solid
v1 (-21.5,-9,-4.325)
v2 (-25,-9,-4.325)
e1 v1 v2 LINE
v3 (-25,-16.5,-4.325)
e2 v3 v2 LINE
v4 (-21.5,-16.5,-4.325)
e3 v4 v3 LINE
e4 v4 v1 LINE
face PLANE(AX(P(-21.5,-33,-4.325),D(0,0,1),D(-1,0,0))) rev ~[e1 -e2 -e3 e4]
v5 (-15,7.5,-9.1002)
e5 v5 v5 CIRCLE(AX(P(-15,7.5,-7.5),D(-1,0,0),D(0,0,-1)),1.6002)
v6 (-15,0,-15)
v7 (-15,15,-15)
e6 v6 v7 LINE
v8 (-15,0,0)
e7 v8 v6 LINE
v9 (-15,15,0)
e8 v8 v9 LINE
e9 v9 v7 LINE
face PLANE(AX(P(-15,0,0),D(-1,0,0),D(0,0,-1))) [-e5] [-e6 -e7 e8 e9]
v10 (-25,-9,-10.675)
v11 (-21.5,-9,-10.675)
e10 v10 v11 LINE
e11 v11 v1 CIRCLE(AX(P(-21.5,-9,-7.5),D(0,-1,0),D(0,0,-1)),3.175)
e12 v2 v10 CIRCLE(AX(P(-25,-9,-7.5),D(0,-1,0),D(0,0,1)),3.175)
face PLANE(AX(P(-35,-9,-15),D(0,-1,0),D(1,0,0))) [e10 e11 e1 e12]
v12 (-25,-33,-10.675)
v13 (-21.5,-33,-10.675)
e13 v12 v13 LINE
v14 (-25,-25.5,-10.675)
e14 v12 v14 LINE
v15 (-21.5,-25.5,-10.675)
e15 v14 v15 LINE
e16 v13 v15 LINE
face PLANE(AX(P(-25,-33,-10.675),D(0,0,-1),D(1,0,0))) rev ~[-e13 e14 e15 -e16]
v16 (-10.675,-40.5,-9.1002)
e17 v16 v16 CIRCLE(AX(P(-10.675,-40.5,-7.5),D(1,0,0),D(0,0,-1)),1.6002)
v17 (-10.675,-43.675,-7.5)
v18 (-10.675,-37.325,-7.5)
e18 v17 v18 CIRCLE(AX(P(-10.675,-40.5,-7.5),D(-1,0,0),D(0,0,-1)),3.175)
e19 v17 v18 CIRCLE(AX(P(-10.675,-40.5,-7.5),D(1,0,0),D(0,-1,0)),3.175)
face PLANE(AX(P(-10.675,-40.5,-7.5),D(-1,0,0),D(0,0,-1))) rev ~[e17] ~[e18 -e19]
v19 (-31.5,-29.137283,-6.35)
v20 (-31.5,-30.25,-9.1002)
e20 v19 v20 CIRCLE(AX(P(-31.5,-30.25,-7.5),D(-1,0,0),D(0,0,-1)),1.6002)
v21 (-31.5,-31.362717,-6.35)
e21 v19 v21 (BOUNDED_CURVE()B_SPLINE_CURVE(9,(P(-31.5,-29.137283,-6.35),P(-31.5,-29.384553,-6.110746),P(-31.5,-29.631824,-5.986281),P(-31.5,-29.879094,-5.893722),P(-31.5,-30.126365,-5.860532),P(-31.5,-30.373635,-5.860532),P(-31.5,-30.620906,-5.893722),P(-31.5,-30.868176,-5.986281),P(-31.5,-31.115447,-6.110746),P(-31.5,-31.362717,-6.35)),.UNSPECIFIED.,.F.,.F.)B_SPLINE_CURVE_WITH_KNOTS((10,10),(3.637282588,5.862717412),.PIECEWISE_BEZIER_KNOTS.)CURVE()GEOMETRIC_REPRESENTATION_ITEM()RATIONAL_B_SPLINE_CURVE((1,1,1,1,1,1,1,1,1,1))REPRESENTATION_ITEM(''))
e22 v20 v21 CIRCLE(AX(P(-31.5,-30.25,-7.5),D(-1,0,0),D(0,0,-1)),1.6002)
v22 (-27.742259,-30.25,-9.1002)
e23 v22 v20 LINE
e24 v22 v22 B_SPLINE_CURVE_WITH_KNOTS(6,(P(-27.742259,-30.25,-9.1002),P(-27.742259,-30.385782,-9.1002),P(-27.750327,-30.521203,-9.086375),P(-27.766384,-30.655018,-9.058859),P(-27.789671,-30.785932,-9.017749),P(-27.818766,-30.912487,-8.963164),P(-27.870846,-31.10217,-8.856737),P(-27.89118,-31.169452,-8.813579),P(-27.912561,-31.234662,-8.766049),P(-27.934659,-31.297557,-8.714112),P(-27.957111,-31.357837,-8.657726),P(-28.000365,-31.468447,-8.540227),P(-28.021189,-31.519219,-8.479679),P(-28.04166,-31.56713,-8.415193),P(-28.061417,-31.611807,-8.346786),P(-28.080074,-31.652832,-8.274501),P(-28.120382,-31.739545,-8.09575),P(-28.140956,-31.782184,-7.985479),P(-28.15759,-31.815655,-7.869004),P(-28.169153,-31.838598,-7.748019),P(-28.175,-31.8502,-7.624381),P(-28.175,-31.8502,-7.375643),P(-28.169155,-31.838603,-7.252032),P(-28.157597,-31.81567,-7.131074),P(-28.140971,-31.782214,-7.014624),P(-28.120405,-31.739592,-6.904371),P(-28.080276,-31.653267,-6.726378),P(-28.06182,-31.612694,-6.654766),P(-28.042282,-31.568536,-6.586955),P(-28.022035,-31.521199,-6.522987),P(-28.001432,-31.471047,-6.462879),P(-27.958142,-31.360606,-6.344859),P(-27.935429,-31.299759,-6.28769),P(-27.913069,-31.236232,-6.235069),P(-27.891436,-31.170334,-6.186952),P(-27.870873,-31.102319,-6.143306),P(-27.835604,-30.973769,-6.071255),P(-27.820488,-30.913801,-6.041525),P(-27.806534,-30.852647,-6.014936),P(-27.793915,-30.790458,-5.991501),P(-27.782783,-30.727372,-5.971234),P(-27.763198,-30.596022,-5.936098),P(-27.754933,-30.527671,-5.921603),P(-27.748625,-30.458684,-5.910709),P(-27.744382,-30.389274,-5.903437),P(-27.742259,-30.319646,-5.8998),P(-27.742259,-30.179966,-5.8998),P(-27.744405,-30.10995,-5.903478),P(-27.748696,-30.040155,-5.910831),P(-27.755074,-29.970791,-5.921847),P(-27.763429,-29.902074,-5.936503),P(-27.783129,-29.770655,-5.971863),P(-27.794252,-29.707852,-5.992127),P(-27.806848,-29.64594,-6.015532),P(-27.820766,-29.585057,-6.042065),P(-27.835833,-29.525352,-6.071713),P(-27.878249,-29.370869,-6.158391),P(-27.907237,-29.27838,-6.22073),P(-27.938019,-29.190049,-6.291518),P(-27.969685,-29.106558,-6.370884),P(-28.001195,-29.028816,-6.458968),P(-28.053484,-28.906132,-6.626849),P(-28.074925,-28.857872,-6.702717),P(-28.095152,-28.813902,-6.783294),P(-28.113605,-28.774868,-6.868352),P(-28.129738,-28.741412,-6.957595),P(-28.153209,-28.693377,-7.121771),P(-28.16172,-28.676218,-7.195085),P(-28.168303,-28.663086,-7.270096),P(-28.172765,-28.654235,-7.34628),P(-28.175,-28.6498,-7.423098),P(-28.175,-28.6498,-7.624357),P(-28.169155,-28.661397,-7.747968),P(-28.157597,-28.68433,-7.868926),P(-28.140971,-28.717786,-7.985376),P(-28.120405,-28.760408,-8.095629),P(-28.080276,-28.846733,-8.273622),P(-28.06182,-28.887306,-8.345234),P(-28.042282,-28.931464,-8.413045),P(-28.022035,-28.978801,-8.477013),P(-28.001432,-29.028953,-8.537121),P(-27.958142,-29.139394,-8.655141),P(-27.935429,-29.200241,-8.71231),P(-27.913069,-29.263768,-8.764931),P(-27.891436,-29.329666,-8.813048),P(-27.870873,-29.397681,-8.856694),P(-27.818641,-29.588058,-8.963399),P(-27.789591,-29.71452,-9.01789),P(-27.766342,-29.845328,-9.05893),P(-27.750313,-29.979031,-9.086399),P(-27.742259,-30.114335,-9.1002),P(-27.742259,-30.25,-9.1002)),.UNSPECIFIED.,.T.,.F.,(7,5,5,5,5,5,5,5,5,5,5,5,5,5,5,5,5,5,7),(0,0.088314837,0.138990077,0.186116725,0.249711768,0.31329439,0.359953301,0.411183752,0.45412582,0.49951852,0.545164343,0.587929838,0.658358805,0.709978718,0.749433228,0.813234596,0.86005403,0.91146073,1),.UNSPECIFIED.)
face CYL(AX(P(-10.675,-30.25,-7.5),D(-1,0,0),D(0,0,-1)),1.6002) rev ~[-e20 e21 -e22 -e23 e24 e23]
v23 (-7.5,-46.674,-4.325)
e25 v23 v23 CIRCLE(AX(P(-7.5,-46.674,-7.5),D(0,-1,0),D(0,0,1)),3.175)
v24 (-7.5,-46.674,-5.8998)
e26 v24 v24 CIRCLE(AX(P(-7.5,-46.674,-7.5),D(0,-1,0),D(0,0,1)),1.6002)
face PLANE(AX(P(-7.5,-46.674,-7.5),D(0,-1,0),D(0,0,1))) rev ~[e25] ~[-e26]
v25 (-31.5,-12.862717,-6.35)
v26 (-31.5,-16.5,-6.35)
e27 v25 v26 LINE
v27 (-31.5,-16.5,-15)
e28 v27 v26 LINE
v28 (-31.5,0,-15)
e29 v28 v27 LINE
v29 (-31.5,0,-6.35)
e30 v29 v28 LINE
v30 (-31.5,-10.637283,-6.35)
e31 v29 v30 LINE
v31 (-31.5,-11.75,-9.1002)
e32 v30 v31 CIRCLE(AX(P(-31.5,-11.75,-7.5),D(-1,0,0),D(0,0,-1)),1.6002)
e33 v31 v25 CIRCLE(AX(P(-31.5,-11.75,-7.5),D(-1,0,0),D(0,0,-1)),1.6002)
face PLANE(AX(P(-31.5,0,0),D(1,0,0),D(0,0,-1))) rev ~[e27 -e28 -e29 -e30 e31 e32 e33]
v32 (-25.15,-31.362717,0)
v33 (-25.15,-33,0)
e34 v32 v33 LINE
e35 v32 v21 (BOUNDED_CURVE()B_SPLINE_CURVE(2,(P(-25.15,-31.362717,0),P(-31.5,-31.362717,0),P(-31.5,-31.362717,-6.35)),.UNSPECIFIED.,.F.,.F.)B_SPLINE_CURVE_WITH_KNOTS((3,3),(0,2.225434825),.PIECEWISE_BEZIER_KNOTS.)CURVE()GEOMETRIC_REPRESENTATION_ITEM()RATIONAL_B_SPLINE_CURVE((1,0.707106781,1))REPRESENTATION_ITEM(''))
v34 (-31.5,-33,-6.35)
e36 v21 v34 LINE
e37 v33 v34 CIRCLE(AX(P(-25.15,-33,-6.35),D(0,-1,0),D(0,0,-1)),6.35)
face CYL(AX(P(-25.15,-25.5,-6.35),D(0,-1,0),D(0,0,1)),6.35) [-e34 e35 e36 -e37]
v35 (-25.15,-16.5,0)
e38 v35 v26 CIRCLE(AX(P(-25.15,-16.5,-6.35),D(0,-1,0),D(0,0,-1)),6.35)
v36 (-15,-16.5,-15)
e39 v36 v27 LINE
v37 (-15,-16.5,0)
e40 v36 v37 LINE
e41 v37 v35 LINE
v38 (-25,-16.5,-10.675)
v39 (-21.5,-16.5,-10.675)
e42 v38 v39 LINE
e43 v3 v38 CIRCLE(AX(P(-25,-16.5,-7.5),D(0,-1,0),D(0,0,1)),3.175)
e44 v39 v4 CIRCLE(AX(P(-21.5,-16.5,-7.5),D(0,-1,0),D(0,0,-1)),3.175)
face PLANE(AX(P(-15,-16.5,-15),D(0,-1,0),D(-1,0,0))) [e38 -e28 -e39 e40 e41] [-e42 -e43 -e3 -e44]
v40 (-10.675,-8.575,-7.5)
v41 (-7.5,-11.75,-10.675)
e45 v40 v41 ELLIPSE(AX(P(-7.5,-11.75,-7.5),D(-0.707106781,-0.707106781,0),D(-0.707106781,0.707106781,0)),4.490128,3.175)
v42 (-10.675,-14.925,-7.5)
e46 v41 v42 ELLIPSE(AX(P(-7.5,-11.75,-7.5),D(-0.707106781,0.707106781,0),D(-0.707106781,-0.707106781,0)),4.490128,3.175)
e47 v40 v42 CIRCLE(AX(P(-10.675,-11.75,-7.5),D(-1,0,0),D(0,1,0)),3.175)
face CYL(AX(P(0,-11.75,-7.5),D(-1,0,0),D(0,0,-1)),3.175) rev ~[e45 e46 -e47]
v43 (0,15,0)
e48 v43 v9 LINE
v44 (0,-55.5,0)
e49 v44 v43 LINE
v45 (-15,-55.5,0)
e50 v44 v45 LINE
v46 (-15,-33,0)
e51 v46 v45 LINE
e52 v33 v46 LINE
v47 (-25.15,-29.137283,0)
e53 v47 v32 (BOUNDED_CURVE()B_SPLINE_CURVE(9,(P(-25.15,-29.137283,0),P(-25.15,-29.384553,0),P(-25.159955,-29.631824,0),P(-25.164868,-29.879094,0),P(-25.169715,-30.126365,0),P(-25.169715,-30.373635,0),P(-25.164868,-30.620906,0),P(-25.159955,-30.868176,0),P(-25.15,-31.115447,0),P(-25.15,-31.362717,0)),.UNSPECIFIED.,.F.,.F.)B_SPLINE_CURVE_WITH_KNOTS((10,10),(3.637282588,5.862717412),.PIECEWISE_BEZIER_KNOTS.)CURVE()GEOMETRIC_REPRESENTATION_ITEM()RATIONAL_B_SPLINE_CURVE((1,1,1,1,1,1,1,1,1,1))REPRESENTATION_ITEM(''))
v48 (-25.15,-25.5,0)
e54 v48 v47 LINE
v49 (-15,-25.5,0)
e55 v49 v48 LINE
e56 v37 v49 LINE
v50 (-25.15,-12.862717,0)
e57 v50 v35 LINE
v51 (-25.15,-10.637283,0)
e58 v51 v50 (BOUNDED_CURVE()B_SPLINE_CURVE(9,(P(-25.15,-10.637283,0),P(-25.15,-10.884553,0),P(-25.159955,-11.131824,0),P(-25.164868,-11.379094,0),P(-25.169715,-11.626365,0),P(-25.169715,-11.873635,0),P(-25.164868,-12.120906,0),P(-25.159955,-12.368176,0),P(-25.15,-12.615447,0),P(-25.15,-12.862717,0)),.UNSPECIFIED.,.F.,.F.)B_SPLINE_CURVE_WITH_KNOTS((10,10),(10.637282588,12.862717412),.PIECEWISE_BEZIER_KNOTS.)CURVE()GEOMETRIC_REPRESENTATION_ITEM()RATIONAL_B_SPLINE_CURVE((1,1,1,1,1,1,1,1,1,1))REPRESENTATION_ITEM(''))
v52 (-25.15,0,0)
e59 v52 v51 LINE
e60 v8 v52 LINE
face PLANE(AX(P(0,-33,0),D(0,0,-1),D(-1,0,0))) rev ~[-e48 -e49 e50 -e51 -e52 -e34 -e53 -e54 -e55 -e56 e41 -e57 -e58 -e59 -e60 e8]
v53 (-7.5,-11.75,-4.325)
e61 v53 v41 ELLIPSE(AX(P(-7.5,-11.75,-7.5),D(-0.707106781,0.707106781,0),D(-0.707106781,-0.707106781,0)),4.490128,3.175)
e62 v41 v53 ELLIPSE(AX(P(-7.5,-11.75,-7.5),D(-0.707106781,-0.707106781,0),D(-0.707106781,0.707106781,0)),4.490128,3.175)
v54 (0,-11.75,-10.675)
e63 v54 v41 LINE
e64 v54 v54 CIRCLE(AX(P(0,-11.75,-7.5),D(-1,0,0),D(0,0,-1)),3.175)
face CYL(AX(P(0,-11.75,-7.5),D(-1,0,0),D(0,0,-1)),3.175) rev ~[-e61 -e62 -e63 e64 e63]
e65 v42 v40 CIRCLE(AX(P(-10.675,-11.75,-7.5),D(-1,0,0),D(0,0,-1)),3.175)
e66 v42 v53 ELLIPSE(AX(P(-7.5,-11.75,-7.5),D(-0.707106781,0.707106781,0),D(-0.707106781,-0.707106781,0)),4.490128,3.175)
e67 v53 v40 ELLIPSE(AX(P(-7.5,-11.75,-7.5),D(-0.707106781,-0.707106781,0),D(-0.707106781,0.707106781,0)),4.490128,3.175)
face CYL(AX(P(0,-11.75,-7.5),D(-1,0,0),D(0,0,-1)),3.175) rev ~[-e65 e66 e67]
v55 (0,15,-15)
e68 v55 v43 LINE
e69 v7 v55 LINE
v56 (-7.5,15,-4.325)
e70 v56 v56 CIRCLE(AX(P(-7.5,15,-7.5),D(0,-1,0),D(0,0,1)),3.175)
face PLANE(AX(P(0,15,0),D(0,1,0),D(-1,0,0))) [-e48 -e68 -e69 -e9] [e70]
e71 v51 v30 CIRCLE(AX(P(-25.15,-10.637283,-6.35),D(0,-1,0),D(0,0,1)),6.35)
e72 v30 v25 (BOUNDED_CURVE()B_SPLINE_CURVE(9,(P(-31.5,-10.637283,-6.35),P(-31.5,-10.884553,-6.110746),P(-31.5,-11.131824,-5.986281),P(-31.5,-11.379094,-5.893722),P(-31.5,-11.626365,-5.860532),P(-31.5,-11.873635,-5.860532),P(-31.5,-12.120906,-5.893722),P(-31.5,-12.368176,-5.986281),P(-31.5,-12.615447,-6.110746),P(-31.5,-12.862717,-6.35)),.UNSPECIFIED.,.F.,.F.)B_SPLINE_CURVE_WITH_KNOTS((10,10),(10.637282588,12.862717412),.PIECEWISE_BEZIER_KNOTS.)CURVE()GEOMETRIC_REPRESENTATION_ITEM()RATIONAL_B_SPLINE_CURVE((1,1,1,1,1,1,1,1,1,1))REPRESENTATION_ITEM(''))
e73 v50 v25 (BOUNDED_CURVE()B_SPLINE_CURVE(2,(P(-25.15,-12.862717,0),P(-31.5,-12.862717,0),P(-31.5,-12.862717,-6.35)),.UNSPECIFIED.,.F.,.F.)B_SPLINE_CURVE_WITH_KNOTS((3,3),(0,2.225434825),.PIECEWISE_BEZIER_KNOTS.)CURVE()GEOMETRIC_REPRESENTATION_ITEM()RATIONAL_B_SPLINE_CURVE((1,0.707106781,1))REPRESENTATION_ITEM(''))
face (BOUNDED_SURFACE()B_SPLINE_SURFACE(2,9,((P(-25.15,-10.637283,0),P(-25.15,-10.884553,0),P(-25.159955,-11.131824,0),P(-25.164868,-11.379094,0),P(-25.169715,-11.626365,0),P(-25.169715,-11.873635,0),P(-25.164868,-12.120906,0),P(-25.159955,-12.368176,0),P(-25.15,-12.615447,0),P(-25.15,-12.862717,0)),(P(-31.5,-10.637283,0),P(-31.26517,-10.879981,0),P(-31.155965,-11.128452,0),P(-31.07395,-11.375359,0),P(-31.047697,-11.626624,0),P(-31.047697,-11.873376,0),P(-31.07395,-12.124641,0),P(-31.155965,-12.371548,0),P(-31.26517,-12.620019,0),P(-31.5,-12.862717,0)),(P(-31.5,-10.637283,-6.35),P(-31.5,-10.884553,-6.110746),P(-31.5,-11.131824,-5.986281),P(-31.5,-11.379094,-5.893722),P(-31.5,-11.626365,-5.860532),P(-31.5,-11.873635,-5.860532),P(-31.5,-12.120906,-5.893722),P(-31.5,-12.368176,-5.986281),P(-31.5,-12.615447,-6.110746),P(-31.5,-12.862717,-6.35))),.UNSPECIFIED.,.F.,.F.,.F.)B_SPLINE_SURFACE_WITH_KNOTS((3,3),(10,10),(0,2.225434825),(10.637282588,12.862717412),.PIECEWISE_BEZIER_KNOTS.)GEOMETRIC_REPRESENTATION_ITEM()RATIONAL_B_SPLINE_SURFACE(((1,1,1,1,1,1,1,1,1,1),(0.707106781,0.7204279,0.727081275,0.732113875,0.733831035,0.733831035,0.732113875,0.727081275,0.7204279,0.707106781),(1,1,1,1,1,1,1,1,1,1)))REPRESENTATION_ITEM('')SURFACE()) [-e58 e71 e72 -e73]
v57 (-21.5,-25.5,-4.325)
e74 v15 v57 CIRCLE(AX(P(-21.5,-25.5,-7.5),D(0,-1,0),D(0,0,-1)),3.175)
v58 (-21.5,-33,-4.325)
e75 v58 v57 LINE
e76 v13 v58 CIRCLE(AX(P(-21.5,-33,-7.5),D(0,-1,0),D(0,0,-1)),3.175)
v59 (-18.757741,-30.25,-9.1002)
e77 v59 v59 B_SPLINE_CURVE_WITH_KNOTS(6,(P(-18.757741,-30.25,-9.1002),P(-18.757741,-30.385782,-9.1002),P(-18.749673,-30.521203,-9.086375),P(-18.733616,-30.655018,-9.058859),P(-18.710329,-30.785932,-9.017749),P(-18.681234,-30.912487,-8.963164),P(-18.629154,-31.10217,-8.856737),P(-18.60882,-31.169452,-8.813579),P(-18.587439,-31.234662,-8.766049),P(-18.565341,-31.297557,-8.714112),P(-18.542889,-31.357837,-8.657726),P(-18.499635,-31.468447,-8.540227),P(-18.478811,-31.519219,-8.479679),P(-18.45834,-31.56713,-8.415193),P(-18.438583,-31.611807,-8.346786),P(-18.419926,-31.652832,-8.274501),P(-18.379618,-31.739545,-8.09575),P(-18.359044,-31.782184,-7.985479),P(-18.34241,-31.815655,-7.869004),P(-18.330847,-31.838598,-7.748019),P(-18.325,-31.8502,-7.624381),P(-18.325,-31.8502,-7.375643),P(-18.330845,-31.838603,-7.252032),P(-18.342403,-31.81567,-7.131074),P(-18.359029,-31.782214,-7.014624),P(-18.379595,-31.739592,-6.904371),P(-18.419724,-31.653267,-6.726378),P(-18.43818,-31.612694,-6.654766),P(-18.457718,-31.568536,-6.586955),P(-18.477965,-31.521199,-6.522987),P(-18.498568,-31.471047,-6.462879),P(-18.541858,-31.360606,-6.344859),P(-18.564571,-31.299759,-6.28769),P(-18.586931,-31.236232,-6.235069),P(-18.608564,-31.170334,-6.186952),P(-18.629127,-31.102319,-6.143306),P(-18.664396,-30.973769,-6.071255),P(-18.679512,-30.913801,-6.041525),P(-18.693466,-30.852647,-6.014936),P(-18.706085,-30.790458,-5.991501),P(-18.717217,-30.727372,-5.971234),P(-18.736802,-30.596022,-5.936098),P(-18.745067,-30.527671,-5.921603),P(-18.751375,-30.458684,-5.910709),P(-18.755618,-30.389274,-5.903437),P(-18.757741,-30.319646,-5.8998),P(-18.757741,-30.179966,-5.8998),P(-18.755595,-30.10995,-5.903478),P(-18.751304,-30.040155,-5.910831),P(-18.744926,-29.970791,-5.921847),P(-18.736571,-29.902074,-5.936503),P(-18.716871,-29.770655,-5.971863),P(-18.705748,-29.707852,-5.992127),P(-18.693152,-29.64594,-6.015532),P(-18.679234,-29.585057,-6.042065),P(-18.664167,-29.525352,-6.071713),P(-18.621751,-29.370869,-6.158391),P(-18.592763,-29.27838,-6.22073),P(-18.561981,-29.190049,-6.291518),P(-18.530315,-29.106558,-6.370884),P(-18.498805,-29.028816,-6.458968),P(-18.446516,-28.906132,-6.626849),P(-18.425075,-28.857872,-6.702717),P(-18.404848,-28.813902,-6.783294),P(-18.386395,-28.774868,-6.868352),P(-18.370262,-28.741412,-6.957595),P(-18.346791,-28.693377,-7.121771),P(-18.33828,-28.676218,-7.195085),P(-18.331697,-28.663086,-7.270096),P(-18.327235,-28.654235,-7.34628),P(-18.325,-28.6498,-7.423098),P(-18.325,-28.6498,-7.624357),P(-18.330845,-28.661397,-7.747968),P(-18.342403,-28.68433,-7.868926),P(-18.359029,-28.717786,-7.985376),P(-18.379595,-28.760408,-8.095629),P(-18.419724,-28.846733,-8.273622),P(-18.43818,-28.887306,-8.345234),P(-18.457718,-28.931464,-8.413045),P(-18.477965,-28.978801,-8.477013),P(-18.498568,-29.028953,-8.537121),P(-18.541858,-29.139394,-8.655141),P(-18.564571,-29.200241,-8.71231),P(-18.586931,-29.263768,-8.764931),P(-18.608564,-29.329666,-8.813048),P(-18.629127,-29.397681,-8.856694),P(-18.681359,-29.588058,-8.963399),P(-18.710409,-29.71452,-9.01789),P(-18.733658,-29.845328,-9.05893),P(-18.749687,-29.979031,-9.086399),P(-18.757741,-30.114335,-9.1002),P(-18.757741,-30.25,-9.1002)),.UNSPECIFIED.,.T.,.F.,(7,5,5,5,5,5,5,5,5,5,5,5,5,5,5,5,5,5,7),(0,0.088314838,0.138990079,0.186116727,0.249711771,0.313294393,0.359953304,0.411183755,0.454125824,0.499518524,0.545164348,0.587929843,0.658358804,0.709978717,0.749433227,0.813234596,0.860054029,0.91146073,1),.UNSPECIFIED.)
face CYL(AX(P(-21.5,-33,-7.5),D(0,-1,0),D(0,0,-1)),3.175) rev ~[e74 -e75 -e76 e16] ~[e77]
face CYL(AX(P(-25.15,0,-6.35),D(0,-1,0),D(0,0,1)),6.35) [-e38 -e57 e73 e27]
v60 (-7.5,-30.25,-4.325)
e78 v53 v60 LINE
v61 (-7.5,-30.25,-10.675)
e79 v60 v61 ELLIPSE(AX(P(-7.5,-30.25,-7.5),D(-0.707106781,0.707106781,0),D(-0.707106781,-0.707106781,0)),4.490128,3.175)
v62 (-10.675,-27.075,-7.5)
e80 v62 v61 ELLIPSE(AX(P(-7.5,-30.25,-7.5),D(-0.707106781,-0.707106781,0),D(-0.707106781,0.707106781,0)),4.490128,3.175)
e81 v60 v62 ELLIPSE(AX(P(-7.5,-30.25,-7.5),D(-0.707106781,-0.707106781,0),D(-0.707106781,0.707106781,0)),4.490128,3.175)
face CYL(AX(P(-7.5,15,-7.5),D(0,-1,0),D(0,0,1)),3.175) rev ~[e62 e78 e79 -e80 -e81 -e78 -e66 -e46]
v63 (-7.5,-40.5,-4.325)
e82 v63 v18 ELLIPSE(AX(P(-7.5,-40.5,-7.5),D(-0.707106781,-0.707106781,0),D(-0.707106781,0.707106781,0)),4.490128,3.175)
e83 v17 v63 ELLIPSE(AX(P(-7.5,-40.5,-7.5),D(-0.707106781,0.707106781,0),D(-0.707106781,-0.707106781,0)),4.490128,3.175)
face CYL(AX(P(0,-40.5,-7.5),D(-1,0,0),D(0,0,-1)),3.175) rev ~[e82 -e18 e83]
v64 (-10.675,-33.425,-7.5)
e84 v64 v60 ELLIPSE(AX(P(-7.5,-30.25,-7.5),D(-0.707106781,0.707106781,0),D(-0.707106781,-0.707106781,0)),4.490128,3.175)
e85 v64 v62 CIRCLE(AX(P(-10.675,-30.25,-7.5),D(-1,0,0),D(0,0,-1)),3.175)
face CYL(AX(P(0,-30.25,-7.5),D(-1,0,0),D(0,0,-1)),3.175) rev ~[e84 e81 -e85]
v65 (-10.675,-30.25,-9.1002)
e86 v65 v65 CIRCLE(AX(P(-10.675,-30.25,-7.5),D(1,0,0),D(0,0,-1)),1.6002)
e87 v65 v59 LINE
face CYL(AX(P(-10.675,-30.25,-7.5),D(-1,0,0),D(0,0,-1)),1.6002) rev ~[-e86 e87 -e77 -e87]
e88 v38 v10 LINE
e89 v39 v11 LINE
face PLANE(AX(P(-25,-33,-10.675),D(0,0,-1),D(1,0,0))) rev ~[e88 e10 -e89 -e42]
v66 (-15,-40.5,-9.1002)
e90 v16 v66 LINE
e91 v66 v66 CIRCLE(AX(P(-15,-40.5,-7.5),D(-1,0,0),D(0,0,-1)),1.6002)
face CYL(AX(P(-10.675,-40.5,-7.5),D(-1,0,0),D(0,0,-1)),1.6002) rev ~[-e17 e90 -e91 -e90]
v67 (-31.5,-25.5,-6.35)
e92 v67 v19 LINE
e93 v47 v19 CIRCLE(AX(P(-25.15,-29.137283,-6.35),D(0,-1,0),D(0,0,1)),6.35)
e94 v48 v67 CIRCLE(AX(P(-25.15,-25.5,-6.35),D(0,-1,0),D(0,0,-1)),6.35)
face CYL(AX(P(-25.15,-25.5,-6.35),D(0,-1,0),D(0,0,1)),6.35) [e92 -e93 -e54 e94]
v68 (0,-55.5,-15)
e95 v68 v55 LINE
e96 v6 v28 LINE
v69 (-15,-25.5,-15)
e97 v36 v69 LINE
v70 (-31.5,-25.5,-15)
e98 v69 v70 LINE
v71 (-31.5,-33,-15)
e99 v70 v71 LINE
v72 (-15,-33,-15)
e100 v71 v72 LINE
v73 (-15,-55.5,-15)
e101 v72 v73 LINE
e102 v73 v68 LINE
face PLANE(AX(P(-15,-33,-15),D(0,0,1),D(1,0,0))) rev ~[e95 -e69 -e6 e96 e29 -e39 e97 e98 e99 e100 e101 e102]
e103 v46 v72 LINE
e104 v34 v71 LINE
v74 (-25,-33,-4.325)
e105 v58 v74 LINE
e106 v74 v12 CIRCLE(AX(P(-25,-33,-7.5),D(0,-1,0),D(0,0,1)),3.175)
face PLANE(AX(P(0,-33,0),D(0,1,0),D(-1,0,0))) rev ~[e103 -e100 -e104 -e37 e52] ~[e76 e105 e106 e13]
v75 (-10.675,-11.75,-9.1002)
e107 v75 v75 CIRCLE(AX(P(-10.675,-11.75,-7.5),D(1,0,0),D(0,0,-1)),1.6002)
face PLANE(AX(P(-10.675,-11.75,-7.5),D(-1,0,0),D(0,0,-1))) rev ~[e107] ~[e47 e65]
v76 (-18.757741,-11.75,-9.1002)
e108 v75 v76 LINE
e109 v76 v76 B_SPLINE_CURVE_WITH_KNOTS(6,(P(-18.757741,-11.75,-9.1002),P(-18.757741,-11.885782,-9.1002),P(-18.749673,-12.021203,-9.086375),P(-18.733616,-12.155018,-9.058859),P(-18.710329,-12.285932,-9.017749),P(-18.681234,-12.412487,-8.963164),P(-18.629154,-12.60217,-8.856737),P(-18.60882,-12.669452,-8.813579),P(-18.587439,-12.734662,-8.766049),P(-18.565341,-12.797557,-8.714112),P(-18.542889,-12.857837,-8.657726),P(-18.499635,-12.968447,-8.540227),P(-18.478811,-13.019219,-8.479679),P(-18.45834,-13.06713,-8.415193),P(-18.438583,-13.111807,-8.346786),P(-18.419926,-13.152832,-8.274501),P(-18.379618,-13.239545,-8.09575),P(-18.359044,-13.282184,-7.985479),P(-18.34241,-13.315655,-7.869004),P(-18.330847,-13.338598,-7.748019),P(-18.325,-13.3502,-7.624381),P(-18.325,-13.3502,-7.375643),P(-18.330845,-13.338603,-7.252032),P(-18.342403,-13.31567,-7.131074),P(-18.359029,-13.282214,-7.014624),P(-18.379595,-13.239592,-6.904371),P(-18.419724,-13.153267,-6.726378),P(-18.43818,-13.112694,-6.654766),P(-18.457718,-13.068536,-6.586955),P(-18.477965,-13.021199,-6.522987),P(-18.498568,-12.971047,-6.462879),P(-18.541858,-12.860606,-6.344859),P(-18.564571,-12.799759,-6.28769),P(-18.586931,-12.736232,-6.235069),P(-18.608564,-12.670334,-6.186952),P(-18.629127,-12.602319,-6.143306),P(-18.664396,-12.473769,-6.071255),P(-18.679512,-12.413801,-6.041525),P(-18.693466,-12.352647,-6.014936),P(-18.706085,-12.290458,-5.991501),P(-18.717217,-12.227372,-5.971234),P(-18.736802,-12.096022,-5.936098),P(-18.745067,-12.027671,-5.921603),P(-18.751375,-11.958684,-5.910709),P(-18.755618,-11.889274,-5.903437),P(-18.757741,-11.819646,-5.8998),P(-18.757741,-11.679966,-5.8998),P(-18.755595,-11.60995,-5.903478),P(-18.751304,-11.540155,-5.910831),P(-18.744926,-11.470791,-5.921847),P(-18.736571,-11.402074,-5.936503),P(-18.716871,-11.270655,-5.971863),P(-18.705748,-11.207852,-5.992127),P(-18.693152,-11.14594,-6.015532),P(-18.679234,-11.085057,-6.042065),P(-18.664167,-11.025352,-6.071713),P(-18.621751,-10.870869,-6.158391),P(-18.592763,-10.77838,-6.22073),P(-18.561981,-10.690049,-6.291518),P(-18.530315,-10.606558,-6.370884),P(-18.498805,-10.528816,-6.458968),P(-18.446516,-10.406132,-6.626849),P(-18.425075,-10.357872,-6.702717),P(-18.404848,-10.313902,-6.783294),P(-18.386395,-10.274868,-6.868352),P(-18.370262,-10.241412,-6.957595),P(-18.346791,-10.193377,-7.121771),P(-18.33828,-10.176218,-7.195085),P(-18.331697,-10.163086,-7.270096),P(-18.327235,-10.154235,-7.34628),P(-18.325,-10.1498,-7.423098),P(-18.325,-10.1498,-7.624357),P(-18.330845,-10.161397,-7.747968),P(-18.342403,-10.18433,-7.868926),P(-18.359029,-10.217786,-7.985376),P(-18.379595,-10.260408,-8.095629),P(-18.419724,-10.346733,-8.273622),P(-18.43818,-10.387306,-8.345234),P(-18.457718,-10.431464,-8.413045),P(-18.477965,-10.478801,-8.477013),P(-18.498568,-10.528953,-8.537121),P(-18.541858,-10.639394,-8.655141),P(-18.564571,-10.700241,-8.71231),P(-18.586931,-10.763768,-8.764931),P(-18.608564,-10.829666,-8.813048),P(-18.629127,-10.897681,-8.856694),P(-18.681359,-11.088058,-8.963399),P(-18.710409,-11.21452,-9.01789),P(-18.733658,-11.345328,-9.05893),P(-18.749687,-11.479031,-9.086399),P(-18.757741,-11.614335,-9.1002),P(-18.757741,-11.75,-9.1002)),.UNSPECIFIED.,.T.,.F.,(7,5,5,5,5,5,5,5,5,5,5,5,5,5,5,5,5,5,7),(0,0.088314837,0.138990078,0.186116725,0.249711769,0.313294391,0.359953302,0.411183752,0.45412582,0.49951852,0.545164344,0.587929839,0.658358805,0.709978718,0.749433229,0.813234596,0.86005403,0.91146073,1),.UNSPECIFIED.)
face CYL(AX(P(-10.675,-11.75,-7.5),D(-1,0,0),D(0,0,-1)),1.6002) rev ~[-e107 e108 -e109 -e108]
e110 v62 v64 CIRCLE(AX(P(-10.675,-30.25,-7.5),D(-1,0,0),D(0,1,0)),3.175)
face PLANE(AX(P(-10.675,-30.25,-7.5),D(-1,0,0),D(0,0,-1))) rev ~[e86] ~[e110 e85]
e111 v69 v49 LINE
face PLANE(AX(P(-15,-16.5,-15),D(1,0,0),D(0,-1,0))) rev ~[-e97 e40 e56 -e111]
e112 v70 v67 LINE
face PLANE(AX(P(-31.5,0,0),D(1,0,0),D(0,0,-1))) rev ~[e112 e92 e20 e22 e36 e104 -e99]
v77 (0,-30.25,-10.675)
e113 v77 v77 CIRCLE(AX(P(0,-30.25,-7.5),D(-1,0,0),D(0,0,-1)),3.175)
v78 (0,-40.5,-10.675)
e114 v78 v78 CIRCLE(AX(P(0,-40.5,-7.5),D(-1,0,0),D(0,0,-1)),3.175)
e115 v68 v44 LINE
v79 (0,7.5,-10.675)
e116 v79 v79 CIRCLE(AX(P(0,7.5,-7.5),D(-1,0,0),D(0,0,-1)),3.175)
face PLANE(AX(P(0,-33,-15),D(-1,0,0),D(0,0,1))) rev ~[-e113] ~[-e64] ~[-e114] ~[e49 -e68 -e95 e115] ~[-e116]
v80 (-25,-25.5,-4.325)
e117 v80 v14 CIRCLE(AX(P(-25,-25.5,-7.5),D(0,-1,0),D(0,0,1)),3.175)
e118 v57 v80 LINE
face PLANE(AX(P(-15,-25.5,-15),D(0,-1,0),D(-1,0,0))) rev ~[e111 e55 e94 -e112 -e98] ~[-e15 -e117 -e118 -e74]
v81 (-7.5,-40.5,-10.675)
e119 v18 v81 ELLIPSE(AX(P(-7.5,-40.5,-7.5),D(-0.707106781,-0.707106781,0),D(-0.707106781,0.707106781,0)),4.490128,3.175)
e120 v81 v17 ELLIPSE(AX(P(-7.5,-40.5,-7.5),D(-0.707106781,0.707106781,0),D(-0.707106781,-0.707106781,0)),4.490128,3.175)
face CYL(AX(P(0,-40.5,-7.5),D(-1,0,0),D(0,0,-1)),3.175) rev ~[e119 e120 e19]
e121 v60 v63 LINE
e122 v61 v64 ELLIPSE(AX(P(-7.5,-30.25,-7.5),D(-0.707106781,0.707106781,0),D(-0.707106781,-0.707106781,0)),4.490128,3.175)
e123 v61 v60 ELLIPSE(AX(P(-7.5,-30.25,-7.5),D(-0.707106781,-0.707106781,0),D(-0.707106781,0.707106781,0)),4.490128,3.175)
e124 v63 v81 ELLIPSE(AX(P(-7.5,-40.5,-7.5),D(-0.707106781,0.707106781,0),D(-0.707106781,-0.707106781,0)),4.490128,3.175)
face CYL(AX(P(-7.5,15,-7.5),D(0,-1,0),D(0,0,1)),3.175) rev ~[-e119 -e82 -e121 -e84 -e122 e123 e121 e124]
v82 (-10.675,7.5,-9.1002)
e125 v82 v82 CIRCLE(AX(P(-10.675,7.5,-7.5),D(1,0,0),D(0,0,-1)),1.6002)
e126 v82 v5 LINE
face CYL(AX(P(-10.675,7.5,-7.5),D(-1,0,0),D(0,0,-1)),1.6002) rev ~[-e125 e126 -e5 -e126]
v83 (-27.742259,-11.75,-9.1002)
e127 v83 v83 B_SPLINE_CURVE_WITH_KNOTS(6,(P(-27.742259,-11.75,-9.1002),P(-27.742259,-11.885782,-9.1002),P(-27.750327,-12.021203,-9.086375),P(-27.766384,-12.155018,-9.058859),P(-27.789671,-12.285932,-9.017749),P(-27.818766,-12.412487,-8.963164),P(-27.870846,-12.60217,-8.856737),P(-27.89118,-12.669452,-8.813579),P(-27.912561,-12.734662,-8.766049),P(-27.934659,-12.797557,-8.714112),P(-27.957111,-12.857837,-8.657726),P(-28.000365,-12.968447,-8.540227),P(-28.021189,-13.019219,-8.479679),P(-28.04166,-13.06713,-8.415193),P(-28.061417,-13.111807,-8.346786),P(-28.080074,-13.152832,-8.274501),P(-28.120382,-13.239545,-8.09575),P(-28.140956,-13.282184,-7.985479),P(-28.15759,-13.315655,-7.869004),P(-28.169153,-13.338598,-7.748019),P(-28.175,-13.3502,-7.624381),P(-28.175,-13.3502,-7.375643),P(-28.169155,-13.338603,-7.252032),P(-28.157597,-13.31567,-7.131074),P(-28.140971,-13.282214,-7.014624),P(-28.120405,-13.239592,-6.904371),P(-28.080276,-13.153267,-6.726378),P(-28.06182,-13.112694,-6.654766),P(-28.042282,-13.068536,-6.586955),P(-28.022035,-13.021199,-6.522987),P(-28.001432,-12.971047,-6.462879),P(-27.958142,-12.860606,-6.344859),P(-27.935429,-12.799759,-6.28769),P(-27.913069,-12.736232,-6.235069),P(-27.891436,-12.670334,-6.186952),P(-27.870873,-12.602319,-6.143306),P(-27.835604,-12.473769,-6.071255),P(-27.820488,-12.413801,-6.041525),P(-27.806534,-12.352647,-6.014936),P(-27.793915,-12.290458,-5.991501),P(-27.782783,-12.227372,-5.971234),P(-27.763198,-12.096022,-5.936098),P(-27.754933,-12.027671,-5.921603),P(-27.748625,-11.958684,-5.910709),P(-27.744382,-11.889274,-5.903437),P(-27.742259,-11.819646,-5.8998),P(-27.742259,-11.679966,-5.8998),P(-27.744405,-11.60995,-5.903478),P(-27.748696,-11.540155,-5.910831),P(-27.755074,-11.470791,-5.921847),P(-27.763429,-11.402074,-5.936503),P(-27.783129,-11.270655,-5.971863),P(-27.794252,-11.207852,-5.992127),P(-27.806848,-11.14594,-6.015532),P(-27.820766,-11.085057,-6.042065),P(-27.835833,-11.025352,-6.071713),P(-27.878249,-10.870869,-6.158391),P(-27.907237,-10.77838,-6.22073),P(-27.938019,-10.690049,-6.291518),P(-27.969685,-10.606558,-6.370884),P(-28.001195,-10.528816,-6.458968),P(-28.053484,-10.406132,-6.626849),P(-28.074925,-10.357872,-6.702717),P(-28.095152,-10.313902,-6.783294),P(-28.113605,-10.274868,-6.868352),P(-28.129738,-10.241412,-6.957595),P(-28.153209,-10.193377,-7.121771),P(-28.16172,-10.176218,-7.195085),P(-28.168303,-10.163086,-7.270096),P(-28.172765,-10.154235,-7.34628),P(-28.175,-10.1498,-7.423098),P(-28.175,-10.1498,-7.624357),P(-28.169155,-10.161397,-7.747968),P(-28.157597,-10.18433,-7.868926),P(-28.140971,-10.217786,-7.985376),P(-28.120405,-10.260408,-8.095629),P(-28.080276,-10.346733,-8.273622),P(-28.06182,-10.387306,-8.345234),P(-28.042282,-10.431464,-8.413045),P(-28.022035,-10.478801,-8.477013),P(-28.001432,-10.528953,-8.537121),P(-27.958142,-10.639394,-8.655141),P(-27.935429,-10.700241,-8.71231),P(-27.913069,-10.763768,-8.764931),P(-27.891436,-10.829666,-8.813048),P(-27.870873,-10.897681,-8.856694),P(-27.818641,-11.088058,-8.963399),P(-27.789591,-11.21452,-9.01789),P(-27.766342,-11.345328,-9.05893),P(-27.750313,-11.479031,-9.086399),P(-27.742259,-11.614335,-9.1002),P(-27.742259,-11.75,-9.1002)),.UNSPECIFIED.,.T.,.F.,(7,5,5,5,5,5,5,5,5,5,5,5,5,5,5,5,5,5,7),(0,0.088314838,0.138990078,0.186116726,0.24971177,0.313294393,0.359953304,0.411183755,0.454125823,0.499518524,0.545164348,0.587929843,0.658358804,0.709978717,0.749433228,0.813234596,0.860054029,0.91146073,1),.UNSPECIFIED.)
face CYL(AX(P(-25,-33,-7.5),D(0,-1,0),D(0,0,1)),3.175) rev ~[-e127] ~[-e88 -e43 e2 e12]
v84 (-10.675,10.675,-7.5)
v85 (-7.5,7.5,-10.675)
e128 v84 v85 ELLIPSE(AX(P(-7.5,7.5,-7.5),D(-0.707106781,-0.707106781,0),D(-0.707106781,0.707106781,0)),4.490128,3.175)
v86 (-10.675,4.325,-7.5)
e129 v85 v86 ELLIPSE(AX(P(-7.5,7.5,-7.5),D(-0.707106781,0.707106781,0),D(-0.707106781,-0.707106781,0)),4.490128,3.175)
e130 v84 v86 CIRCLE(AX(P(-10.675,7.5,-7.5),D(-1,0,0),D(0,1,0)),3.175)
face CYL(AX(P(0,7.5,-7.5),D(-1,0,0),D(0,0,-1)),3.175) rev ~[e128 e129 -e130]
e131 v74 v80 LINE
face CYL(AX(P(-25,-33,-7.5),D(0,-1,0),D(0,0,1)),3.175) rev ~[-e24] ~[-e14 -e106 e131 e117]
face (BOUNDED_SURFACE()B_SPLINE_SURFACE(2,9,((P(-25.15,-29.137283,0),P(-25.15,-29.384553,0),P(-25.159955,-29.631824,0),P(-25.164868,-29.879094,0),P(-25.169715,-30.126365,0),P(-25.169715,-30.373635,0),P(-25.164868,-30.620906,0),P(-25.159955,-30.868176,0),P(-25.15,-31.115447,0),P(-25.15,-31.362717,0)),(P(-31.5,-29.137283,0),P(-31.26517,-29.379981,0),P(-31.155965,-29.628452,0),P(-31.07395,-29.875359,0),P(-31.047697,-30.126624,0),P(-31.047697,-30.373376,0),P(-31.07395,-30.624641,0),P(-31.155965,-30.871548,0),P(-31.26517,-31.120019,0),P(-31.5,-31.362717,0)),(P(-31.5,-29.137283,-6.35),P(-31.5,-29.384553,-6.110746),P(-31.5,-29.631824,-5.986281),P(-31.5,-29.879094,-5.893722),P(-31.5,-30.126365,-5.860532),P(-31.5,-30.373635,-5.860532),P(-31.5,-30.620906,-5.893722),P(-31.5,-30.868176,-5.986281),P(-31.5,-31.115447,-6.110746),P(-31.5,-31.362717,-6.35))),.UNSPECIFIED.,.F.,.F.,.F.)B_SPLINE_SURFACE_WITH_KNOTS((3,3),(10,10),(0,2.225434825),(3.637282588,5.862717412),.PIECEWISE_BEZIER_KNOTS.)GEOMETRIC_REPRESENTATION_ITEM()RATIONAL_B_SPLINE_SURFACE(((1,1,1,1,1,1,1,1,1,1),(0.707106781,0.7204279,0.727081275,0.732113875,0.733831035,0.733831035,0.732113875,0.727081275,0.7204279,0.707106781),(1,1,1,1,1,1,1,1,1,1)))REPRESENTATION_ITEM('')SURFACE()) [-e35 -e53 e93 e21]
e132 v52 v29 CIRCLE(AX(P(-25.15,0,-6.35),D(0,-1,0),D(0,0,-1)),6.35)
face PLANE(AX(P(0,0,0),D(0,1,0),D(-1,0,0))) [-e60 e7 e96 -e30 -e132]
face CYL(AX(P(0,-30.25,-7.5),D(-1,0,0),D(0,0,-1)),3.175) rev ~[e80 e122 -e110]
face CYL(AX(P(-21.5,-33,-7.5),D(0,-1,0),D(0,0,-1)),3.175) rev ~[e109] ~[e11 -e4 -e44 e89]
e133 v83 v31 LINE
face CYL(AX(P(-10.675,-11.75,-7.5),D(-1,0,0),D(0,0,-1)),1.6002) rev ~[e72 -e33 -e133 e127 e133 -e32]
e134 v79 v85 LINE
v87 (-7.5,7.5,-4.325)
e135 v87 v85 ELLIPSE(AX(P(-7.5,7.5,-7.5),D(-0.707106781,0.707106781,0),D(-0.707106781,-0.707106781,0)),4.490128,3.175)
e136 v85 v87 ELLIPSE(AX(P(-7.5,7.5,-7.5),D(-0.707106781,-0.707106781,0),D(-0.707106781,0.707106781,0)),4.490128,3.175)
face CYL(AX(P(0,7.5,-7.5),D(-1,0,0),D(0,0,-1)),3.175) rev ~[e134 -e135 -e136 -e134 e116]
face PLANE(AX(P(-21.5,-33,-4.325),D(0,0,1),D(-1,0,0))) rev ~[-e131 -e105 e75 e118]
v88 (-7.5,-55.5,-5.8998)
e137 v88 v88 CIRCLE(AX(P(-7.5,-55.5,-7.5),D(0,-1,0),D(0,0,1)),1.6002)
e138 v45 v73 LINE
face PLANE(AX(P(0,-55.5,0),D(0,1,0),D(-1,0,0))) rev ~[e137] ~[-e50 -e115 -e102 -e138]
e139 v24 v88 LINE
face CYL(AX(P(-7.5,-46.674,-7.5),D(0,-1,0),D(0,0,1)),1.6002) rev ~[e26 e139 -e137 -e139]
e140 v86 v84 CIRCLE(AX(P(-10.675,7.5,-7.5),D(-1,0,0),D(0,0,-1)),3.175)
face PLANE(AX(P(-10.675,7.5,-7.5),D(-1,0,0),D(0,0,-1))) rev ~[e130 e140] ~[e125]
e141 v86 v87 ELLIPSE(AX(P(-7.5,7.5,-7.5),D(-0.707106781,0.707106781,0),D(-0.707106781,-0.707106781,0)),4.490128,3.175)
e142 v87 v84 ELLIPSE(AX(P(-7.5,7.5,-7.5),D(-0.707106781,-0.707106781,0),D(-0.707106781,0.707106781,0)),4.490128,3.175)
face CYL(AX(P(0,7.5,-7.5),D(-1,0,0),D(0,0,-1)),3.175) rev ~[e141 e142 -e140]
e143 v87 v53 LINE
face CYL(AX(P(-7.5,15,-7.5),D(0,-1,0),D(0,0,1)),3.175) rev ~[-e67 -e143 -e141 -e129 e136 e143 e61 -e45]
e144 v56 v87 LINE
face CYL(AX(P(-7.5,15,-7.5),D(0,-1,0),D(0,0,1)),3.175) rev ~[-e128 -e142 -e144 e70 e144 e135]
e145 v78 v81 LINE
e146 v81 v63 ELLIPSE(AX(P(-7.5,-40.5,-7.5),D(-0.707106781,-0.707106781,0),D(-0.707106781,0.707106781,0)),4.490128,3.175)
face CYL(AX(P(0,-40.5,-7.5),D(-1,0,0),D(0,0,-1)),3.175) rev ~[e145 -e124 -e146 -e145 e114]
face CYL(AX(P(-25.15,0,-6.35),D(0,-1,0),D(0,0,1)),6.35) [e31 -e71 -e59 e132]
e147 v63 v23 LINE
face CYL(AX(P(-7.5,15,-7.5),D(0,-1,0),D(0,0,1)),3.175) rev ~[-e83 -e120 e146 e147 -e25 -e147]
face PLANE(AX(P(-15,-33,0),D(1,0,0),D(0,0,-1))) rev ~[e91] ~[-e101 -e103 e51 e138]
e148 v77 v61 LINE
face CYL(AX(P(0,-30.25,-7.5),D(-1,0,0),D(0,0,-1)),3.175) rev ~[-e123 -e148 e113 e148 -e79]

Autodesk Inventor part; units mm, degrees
ref_plane "YZ Plane" through (0, 0, 0) normal (1, 0, 0) x (0, 1, 0)
ref_plane "XZ Plane" through (0, 0, 0) normal (0, 1, 0) x (-1, 0, 0)
ref_plane "XY Plane" through (0, 0, 0) normal (0, 0, 1) x (1, 0, 0)
sketch "Base Profile" plane through (0, 0, 0) normal (0, 1, 0) x (-1, 0, 0)
  line L0 (0, 0) -> (15, 0)
  line L1 (15, 0) -> (15, -15)
  line L2 (15, -15) -> (0, -15)
  line L3 (0, -15) -> (0, 0)
  line L4 (15, 0) -> (31.5, 0)
  line L5 (31.5, 0) -> (31.5, -15)
  line L6 (31.5, -15) -> (15, -15)
  line L7 (15, -15) -> (15, 0)
  dimension "d164" = 15
  dimension "d165" = 15
  dimension "d166" = 16.5
  dimension "d167" = 15
extrude "Stock" add sketch "Base Profile" against normal blind 33
extrude "Top Extrusion Post" add sketch "Base Profile" along normal blind 15 contours L0 L1 L2 L3
extrude "Lower Extrusion Post" add sketch "Base Profile" against normal blind 22.5 from surface at -33 contours L0 L1 L2 L3
sketch "Sketch27" plane through (0, -33, -15) normal (0, 0, -1) x (-1, 0, 0)
  line L0 (0, -22.5) -> (0, 48) projected
  line L1 (31.5, 0) -> (15, 0) projected
  line L2 (31.5, 33) -> (31.5, 0) projected
  line L3 (15, 33) -> (31.5, 33) projected
  line L4 (15, 33) -> (15, 48) projected
  line L5 (0, 48) -> (15, 48) projected
  line L6 (0, 16.5) -> (31.5, 16.5)
  line L7 (0, 7.5) -> (31.5, 7.5)
  line L8 (15, 33) -> (15, 0)
  line L9 (0, -22.5) -> (15, -22.5) projected
  line L10 (15, 0) -> (15, -22.5) projected
  point P0 (15, 16.5)
  point P1 (15, 7.5)
  dimension "d247" = 16.5
  dimension "d290" = 7.5
extrude "Lower Half Cut" cut sketch "Sketch27" against normal through all contours L8 L6 L2 L7
sketch "Bottom Profile" plane through (-35, -33, -15) normal (0, -1, 0) x (1, 0, 0)
  line L0 (13.5, 7.5) -> (10, 7.5) construction
  line L1 (13.5, 10.675) -> (10, 10.675)
  line L2 (10, 4.325) -> (13.5, 4.325)
  arc A0 (13.5, 4.325) -> (13.5, 10.675) centre (13.5, 7.5) ccw
  arc A1 (10, 10.675) -> (10, 4.325) centre (10, 7.5) ccw
  line L3 (3.5, 15) -> (3.5, 0) projected
  line L4 (35, 15) -> (3.5, 15) projected
  point P0 (11.75, 7.5)
  dimension "d291" = 3.5
  dimension "d292" = 6.35
  dimension "d293" = 6.5
  dimension "d294" = 7.5
extrude "Slot Cut" cut sketch "Bottom Profile" against normal blind 24
sketch "Front Hole Pattern" plane through (0, -33, 0) normal (1, 0, 0) x (0, 0, -1)
  line L0 (0, 0) -> (0, 48) projected
  circle A0 centre (7.5, 40.5) radius 3.175
  line L1 (0, 48) -> (15, 48) projected
  circle A1 centre (7.5, 21.25) radius 3.175
  line L2 (15, 0) -> (0, 0) projected
  circle A2 centre (7.5, -7.5) radius 3.175
  circle A3 centre (7.5, 2.75) radius 3.175
  dimension "d317" = 6.35
  dimension "d318" = 7.5
  dimension "d319" = 7.5
  dimension "d354" = 6.35
  dimension "d356" = 21.25
  dimension "d369" = 6.35
  dimension "d370" = 7.5
  dimension "d371" = 6.35
  dimension "d372" = 2.75
hole "Front Adjustment Hole" at (0, -11.75, -7.5) at (0, -30.25, -7.5) direction (-1, 0, 0) diameter 3.2004 end through all counterbore diameter 6.35 counterbore depth 10.675 clearance for "Socket Head Cap Screw" size "M3" standard "Ansi Metric M Profile"
hole "Front Mounting Hole" at (0, 7.5, -7.5) at (0, -40.5, -7.5) direction (-1, 0, 0) diameter 3.2004 end through all counterbore diameter 6.35 counterbore depth 10.675 clearance for "Socket Head Cap Screw" size "M3" standard "Ansi Metric M Profile"
sketch "Sketch33" plane through (0, 15, 0) normal (0, 1, 0) x (1, 0, 0)
  line L0 (-15, 15) -> (-15, 0) projected
  line L1 (-15, 0) -> (0, 0) projected
  line L2 (0, 0) -> (0, 15) projected
  line L3 (0, 15) -> (-15, 15) projected
  circle A0 centre (-7.5, 7.5) radius 3.175
  dimension "d340" = 6.35
  dimension "d341" = 7.5
  dimension "d342" = 7.5
hole "Top Mounting Hole" at (-7.5, 15, -7.5) direction (0, -1, 0) diameter 3.2004 end through all counterbore diameter 6.35 counterbore depth 61.674 clearance for "Socket Head Cap Screw" size "M3" standard "Ansi Metric M Profile"
fillet "Fillet2" radius 6.35 2 edges at (-31.5, -29.25, 0) (-31.5, -8.25, 0)
equation "\"d164\" = extrusionWidth"
equation "\"d165\" = extrusionWidth"
equation "\"d166\" = idlerLength"
equation "\"d167\" = d165"
equation "\"d168\" = extrusionOffset"
equation "\"extrusionWidth\" = 15"
equation "\"idlerLength\" = 16.5"
equation "\"bearingOffsetFromBottom\" = 7.5"
equation "\"extrusionOffset\" = 33"
equation "\"bearingStackHeight\" = 9"
equation "\"bearingSlotLength\" = 3.5"
equation "\"bearingClearance\" = 13"
equation "\"pinSupportLength\" = 2"
properties part number "A Idler" material "Aluminum 6061"
